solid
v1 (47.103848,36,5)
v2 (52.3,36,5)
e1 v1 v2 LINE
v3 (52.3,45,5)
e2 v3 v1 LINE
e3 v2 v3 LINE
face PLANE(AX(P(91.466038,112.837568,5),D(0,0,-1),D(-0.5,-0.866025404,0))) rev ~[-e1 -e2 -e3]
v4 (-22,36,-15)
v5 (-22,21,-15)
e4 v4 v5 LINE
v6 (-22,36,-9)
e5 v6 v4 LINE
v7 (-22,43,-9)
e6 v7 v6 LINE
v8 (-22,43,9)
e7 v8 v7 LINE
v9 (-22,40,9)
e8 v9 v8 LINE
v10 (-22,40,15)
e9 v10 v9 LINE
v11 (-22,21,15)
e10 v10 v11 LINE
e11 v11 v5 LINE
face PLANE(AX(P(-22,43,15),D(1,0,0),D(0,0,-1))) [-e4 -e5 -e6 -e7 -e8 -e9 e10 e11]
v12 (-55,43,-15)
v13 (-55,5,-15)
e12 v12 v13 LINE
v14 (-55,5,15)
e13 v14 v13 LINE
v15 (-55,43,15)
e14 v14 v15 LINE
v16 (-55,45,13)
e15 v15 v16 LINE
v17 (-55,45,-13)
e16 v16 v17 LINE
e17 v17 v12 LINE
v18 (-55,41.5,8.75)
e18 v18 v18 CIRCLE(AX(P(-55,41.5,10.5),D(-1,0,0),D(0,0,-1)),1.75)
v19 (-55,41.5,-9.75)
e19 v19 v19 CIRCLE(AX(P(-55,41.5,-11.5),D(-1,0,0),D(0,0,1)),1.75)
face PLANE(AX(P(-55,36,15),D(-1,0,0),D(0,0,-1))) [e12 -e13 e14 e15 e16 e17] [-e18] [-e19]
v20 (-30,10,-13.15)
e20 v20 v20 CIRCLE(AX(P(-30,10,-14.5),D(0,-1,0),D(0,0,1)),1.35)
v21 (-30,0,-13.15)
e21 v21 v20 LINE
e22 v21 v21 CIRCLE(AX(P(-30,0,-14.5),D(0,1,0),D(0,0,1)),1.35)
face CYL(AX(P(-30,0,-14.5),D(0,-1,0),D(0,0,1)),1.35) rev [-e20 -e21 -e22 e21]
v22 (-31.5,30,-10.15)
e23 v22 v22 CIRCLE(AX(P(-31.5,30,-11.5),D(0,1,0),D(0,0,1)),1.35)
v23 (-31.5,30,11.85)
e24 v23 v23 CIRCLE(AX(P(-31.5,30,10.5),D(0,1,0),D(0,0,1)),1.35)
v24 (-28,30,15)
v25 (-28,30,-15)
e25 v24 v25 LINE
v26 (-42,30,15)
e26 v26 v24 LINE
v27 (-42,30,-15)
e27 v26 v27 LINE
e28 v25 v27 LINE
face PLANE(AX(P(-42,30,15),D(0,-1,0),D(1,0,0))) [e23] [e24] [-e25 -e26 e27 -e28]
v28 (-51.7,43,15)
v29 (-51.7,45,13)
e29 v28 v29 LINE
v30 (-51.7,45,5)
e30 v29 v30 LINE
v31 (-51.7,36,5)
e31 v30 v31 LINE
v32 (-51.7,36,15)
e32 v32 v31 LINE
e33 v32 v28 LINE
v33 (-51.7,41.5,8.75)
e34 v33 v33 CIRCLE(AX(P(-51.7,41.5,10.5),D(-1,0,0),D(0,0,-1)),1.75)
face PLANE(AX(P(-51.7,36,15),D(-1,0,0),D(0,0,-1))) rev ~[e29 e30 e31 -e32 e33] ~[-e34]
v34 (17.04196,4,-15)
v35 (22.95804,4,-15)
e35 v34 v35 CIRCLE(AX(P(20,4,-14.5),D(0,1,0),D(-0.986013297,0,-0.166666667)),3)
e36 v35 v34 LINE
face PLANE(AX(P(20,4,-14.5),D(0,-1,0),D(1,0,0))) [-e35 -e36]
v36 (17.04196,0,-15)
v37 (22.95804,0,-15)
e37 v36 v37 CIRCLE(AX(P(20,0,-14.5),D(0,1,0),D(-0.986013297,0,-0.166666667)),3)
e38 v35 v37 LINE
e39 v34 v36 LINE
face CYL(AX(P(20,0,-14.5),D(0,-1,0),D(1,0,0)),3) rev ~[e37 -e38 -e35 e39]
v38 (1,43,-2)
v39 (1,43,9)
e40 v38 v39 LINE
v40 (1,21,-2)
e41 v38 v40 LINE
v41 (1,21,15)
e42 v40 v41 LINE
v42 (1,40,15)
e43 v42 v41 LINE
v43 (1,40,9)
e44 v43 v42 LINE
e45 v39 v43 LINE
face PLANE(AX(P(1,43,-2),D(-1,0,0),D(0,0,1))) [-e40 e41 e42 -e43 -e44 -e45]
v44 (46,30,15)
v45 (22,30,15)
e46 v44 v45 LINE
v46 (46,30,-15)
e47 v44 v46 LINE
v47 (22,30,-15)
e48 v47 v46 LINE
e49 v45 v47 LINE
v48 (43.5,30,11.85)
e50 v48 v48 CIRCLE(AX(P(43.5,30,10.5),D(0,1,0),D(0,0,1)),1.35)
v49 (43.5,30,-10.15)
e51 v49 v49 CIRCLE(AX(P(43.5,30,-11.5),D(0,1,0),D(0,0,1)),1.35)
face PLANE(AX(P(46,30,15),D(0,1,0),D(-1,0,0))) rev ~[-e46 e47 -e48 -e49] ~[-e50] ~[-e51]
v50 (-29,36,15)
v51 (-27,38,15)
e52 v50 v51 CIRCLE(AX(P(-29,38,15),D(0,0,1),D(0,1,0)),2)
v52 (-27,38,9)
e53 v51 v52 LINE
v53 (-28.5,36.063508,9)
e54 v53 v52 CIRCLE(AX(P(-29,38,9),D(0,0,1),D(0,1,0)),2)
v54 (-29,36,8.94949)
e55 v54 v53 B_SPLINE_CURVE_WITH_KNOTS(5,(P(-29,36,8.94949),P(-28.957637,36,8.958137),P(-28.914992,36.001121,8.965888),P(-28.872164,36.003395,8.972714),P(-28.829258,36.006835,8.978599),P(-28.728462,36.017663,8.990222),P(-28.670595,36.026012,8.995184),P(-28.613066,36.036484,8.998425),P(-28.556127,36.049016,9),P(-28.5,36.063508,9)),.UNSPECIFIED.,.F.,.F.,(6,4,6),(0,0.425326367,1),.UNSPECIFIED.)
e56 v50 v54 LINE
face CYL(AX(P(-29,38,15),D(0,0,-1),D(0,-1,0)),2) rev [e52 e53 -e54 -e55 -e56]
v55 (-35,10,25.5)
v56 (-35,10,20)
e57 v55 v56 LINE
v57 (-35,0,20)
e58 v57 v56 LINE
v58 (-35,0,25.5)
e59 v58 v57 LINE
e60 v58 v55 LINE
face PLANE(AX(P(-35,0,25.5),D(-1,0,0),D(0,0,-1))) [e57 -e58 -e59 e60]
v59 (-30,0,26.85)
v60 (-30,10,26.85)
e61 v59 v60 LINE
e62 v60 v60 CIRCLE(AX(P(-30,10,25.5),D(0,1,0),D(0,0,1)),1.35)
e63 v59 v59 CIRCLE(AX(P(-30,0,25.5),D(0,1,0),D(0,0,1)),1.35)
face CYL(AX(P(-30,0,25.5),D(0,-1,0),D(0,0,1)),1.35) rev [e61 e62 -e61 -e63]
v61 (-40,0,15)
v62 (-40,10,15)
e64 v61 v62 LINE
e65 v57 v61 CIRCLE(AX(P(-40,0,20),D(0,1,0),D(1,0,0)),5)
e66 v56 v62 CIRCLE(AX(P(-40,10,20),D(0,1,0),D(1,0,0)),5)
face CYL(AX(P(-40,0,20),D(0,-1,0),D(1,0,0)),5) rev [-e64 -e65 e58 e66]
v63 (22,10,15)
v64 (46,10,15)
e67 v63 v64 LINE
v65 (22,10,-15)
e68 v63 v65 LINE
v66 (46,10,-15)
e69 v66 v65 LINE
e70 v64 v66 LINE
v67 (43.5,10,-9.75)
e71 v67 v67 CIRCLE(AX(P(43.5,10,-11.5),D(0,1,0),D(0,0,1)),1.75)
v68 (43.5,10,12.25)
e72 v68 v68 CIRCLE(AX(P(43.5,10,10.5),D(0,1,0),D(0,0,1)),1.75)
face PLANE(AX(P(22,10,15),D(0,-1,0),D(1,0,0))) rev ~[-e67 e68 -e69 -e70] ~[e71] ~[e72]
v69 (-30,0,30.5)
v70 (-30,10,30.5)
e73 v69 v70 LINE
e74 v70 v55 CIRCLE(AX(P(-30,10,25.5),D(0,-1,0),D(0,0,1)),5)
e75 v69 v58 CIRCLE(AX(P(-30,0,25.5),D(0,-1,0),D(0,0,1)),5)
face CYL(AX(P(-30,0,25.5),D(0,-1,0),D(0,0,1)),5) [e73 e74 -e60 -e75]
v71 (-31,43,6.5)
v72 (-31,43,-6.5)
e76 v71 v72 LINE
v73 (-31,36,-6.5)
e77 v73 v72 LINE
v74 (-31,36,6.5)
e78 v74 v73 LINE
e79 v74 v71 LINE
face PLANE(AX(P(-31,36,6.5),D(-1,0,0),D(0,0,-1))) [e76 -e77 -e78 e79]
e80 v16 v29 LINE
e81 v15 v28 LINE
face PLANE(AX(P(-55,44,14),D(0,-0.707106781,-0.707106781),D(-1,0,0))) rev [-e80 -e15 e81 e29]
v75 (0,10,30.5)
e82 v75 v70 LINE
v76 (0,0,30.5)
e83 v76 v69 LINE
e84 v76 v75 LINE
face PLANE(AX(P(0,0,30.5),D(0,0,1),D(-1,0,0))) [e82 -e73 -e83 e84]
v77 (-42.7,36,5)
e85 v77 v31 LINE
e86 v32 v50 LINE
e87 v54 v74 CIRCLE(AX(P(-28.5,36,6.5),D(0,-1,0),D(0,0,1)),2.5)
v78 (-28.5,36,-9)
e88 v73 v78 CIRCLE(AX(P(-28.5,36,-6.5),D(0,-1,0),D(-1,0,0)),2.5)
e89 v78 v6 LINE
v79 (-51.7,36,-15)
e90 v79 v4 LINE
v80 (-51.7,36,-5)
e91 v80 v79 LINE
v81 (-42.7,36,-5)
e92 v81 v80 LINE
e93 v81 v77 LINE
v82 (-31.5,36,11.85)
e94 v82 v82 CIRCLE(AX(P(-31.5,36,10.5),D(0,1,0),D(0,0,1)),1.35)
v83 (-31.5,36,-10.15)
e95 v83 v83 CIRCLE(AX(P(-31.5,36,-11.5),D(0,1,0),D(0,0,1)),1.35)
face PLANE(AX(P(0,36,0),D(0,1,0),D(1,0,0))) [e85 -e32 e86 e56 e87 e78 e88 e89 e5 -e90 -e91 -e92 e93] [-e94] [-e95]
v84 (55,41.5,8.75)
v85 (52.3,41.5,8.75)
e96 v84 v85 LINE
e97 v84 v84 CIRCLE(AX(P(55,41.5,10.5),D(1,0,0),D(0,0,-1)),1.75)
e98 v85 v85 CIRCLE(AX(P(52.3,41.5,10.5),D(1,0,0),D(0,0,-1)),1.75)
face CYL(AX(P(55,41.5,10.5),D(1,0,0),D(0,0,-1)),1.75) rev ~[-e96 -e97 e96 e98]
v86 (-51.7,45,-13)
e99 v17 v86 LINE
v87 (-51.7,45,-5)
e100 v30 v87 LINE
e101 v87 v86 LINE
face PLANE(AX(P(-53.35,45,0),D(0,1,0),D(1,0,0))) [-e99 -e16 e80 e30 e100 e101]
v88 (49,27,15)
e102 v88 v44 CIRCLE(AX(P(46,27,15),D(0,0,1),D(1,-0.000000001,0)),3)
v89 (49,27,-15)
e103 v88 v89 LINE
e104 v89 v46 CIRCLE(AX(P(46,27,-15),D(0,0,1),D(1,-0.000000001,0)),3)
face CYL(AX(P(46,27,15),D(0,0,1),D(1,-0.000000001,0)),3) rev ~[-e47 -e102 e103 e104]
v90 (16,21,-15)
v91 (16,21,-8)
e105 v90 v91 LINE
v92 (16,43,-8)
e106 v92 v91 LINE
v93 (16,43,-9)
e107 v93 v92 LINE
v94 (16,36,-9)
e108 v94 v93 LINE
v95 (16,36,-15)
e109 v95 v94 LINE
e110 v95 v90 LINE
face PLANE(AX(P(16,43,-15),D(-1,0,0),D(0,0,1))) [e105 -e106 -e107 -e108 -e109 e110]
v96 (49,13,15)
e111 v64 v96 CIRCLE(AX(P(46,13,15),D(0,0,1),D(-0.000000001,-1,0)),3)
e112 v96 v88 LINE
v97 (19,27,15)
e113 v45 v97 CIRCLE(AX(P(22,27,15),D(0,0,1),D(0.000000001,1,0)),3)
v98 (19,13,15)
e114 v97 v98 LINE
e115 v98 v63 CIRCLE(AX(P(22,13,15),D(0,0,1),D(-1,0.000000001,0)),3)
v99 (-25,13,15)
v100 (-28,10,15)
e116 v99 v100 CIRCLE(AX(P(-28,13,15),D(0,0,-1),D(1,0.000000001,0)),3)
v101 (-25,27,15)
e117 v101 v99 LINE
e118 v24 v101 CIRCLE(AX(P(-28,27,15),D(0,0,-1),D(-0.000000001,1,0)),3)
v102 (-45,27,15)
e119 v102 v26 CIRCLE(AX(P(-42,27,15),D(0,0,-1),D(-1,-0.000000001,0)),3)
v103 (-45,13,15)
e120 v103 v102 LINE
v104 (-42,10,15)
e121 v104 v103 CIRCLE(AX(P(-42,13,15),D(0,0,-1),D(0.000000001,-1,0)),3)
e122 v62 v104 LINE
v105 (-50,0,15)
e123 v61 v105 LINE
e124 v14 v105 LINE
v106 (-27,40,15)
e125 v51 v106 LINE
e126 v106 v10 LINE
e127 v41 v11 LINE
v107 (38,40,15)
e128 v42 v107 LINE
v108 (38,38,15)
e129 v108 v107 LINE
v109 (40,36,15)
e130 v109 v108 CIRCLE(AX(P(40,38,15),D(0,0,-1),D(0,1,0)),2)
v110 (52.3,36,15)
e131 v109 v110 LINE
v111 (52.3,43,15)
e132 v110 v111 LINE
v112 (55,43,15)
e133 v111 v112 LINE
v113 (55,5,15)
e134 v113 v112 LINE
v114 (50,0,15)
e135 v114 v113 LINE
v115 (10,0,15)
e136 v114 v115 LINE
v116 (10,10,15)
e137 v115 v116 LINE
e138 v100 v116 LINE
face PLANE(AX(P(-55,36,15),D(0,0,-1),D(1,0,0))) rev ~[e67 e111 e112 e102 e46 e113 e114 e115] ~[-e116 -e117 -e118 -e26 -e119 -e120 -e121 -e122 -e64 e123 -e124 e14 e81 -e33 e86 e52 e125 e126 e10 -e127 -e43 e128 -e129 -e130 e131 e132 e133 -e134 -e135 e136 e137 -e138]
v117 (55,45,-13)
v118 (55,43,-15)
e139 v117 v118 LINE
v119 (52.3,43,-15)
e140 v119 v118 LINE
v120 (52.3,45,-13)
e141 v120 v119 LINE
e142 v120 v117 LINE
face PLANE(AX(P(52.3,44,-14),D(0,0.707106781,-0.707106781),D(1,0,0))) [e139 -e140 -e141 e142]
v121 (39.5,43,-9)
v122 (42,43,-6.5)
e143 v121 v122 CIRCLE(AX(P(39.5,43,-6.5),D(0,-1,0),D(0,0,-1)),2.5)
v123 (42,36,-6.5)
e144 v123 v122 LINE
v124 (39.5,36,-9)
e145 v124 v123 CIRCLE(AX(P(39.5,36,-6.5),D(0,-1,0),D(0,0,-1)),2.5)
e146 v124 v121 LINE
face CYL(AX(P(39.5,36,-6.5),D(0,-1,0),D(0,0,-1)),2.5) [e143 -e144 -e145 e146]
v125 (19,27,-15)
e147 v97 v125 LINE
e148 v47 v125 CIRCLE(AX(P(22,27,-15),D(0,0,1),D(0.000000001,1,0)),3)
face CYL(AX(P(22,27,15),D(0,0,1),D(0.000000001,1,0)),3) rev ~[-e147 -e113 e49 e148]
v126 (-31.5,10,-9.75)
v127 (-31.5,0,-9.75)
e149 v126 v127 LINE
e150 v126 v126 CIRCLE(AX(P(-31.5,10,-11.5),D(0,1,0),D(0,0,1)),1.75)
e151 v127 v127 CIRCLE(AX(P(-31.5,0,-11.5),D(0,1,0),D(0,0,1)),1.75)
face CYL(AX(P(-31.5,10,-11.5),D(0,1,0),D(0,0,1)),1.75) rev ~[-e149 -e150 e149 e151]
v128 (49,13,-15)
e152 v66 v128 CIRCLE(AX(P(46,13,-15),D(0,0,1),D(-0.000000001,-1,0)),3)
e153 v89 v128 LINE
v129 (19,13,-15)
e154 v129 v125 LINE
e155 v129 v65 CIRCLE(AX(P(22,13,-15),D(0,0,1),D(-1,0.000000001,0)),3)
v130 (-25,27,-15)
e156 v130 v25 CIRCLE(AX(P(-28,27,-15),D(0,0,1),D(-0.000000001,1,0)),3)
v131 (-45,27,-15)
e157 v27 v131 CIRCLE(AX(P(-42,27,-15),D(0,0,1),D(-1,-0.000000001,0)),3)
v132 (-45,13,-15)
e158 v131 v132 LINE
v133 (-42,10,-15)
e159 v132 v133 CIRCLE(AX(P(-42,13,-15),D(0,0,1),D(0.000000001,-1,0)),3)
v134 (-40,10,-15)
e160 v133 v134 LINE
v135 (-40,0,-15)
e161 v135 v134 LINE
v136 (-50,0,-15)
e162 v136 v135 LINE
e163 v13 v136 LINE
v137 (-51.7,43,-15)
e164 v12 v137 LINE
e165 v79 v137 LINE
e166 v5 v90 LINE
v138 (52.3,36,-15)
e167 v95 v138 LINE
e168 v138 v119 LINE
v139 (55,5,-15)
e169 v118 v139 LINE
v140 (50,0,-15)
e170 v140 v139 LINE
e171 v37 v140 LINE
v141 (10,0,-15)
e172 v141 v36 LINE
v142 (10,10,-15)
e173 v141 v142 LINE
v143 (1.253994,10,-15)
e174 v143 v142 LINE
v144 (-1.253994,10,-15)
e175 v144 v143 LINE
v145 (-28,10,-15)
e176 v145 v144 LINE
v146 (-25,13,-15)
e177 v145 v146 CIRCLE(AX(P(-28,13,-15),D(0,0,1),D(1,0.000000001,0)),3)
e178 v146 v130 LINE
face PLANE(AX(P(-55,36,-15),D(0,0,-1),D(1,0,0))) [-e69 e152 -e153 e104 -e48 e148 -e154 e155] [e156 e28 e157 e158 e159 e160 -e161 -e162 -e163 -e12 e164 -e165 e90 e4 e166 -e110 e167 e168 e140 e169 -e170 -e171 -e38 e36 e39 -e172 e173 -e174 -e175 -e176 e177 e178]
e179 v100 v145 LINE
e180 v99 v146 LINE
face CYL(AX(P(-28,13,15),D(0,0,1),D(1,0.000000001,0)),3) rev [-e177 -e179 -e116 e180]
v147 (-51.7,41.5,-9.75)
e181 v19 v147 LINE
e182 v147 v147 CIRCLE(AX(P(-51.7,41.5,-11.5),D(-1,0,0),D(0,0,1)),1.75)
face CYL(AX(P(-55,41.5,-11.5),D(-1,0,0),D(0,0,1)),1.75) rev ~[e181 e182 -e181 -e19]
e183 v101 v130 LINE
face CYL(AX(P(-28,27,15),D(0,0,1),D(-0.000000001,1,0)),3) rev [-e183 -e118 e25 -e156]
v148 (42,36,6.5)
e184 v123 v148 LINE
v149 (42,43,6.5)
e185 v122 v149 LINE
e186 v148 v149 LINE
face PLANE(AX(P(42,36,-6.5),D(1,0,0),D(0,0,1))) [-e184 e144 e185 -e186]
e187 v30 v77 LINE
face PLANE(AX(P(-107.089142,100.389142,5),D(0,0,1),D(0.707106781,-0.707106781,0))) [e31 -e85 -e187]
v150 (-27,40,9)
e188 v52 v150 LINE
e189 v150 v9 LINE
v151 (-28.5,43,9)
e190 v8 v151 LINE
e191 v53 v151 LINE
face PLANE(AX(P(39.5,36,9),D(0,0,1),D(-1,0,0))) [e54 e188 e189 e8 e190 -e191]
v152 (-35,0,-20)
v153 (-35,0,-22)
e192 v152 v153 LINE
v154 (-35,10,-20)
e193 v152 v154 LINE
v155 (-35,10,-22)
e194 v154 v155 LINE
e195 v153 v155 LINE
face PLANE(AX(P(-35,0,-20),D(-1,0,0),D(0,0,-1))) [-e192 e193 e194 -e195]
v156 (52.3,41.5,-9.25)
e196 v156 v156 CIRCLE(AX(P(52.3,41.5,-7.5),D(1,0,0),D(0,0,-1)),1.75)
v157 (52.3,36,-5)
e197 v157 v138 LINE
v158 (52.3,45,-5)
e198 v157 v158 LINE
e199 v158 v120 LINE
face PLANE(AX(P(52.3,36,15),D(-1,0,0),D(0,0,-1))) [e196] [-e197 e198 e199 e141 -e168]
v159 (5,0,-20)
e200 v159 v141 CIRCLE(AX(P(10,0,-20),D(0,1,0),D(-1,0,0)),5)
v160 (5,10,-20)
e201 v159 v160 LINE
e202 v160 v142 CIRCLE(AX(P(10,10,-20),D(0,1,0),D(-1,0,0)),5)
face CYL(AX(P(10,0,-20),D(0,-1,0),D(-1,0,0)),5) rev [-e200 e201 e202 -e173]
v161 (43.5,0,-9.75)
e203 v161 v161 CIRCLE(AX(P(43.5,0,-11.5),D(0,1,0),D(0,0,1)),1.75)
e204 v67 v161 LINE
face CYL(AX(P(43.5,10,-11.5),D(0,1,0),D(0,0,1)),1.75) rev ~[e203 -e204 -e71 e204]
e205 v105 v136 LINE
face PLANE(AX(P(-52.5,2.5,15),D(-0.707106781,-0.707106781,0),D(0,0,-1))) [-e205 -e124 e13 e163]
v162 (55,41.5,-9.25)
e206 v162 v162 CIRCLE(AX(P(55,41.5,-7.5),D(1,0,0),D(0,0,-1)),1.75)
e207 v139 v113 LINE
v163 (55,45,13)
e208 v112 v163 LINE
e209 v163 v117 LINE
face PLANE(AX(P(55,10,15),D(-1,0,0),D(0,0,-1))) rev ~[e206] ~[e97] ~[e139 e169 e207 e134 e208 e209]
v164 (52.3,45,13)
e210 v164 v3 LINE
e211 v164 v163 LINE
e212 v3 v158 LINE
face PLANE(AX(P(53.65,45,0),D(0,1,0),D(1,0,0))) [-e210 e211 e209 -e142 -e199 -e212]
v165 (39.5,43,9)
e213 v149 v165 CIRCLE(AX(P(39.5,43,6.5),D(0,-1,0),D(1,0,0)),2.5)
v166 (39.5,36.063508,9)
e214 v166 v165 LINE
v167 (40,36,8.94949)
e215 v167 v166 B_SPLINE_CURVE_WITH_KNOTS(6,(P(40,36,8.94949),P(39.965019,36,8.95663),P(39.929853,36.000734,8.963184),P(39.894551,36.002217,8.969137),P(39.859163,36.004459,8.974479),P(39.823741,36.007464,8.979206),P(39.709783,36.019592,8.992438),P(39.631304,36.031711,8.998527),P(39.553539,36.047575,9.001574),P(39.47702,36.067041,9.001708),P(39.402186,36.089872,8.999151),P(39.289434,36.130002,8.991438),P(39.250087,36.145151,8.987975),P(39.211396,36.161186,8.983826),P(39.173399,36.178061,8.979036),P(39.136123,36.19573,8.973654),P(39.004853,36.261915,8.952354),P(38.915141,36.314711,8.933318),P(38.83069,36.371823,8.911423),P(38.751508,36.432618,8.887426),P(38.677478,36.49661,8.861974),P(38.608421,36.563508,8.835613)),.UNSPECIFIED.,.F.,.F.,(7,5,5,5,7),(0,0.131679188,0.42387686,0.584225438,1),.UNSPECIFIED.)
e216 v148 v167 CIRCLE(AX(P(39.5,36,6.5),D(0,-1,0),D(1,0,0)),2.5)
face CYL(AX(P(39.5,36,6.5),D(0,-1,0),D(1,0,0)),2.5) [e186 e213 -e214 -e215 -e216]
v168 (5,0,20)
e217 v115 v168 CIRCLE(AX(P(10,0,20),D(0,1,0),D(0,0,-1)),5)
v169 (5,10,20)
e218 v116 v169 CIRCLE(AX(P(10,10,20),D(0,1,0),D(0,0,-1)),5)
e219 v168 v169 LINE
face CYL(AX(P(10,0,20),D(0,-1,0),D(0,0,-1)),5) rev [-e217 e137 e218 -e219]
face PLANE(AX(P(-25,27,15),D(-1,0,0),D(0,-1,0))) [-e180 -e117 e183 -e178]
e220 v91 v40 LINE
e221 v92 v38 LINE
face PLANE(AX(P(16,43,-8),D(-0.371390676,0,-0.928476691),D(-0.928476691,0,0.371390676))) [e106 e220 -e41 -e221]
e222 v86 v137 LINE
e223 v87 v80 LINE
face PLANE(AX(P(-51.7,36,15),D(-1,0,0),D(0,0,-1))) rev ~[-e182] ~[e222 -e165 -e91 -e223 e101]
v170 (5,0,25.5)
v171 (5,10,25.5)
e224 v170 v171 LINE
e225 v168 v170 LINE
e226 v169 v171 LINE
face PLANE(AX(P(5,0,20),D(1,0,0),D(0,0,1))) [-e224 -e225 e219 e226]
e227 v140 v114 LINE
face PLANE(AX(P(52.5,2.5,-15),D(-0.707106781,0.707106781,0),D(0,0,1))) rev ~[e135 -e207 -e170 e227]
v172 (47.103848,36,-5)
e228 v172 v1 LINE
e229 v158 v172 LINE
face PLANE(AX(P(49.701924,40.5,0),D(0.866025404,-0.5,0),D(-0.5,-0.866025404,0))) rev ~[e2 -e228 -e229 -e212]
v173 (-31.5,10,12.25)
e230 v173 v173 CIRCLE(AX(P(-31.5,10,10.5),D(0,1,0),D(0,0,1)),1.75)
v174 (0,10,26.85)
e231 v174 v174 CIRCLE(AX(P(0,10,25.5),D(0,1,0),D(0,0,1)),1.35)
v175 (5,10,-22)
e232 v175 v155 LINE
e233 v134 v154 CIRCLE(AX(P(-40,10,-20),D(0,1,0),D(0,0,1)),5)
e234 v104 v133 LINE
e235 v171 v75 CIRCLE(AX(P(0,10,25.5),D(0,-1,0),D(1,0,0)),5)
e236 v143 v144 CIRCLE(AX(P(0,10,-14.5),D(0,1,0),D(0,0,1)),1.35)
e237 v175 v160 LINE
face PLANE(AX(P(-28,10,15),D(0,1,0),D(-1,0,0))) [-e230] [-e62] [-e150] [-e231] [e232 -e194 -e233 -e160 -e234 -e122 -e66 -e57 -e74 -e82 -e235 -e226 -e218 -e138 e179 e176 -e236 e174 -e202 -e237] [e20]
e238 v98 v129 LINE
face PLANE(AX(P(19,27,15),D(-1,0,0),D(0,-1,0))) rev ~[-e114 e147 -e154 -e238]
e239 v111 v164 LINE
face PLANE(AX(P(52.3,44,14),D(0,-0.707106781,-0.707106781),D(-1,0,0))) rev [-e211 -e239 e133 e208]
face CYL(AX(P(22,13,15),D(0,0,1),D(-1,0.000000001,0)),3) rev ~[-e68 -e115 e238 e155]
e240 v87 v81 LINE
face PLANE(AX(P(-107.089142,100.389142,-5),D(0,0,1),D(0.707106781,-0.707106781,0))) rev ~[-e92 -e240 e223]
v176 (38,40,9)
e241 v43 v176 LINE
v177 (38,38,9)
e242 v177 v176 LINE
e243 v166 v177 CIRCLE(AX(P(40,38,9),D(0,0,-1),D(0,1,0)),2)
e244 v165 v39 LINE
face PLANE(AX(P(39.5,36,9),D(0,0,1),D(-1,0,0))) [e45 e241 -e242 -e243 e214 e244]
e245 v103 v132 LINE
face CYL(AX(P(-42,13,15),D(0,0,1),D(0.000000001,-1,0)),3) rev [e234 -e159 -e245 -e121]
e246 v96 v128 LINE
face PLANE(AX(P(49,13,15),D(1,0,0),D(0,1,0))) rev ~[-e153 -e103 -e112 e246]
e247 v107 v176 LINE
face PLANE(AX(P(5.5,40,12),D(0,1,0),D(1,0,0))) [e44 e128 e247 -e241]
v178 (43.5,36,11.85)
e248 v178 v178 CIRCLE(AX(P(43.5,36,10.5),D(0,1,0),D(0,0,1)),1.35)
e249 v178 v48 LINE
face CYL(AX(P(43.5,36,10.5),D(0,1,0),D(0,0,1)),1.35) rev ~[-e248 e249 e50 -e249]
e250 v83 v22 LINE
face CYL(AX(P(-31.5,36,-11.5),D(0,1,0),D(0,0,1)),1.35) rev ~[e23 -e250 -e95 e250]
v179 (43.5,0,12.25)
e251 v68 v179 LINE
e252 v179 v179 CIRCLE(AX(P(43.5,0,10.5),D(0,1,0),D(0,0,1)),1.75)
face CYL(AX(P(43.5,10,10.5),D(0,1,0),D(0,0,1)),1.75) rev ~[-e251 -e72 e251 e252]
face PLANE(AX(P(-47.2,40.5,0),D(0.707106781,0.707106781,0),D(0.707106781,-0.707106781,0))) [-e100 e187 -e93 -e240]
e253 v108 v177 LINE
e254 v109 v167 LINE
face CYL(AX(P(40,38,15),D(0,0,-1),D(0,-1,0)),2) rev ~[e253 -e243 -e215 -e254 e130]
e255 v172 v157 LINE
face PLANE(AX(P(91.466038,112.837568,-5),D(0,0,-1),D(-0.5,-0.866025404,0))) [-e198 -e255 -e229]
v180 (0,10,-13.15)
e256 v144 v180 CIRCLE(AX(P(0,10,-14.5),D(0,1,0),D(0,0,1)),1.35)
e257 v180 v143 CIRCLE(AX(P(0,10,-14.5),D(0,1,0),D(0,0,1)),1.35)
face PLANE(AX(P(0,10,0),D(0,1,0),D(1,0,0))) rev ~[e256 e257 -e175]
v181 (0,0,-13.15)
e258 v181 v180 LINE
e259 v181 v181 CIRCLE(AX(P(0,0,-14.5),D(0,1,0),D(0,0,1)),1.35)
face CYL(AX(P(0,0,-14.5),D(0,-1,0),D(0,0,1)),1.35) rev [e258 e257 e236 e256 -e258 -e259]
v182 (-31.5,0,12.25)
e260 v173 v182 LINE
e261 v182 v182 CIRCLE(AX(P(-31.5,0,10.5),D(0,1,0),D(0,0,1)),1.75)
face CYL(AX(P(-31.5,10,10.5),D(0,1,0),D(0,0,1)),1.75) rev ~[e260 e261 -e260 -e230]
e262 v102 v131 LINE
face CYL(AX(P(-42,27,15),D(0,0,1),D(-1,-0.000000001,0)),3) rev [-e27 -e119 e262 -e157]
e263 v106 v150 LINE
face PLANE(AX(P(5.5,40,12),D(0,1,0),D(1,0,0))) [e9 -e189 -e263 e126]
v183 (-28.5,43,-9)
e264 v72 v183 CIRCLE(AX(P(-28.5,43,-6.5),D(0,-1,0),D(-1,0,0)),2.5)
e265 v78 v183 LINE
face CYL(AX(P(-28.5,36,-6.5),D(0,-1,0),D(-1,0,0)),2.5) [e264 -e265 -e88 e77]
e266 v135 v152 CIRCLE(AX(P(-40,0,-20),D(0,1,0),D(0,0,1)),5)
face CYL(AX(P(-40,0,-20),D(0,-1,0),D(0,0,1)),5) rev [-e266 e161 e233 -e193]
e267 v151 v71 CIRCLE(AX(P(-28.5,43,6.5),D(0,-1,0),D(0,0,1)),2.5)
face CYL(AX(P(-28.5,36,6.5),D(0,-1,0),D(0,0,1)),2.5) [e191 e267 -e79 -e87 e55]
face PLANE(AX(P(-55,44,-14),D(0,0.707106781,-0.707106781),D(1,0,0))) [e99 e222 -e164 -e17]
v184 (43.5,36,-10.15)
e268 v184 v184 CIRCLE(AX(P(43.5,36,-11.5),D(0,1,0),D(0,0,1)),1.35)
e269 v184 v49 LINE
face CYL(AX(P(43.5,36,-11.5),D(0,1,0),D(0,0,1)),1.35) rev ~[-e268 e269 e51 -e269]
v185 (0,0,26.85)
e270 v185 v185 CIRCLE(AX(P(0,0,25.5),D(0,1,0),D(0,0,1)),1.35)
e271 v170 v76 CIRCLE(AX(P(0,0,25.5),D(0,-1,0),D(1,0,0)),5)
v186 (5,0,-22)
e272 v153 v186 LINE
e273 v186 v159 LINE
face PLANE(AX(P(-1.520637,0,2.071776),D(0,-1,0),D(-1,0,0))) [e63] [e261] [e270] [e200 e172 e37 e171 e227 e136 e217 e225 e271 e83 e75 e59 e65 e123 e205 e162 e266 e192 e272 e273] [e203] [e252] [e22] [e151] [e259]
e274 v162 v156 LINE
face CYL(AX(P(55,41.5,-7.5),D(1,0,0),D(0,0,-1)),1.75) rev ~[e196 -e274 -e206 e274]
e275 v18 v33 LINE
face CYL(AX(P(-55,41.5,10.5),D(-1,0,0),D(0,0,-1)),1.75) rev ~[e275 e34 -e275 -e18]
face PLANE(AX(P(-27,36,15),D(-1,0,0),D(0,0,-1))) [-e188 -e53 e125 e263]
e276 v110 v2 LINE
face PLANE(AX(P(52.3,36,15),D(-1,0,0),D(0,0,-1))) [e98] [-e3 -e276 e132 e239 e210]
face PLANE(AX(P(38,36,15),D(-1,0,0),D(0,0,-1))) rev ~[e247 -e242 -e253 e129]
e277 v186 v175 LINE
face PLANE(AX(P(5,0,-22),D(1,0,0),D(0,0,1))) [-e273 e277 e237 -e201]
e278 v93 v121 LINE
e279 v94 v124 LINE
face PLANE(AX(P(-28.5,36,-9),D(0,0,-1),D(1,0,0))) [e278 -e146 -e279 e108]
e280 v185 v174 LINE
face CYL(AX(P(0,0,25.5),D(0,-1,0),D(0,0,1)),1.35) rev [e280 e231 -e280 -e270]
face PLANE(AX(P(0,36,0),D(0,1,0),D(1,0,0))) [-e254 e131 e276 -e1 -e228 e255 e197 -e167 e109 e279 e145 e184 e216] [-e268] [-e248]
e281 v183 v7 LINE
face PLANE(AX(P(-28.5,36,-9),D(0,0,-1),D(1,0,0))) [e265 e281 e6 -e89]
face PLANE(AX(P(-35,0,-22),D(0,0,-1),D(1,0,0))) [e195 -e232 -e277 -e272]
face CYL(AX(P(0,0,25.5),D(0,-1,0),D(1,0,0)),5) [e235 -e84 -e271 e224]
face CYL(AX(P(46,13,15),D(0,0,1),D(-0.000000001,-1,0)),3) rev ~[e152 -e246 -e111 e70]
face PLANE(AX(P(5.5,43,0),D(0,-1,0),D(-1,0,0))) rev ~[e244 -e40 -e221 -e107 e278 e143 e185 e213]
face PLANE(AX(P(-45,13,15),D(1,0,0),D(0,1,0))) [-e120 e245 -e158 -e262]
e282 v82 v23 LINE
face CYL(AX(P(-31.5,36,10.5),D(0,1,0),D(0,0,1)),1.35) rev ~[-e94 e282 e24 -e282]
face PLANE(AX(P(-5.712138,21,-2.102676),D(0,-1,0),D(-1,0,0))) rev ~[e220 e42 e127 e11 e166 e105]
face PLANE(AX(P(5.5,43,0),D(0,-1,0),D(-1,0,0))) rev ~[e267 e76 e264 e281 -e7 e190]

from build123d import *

# Parameters (mm, degrees)
SKETCH_1_R          = 1.35
EXTRUDE_1_DEPTH     = 10
SKETCH_2_W          = 110
SKETCH_2_H          = 30
EXTRUDE_2_DEPTH     = 26
CUT_EXTRUDE_1_DEPTH = 76.432088663
EXTRUDE_3_DEPTH     = 7
SKETCH_5_R          = 1.35
CUT_EXTRUDE_2_DEPTH = 7
SKETCH_6_W          = 65
SKETCH_6_H          = 6
EXTRUDE_4_DEPTH     = 4
SKETCH_7_W          = 3.3
SKETCH_7_H          = 30
SKETCH_7_W_2        = 2.7
EXTRUDE_5_DEPTH     = 9
RIB_1_REACH         = 79.332
SKETCH_8_WALL_W     = 169.39207434
SKETCH_8_WALL_H     = 10
RIB_2_REACH         = 79.332
SKETCH_9_WALL_W     = 167.056457124
SKETCH_9_WALL_H     = 10
CUT_EXTRUDE_3_REACH = 124.7
SKETCH_10_R         = 1.75
CUT_EXTRUDE_4_REACH = 124.7
SKETCH_11_R         = 1.75
FILLET_1_R          = 2
CUT_EXTRUDE_5_DEPTH = 22
CHAMFER_1_SIZE      = 5
CHAMFER_2_SIZE      = 2
SKETCH_13_R         = 1.75
CUT_EXTRUDE_6_DEPTH = 72.973953622
CHAMFER_3_SIZE      = 5
SKETCH_14_R         = 3
CUT_EXTRUDE_7_DEPTH = 4


with BuildPart() as part:
    # 草图1 → 凸台-拉伸1 (new body)
    with BuildSketch(Plane(origin=(0, 0, 0), x_dir=(1, 0, 0), z_dir=(0, 1, 0))):
        with BuildLine():
            Line((10, 15), (55, 15))
            Line((55, 15), (55, -15))
            Line((55, -15), (10, -15))
            ThreePointArc((10, -15), (6.464466094, -16.464466094), (5, -20))
            Line((5, -20), (5, -25.5))
            ThreePointArc((5, -25.5), (3.535533906, -29.035533906), (0, -30.5))
            Line((0, -30.5), (-30, -30.5))
            ThreePointArc((-30, -30.5), (-33.535533906, -29.035533906), (-35, -25.5))
            Line((-35, -25.5), (-35, -20))
            ThreePointArc((-35, -20), (-36.464466094, -16.464466094), (-40, -15))
            Line((-40, -15), (-55, -15))
            Line((-55, -15), (-55, 15))
            Line((-55, 15), (-40, 15))
            ThreePointArc((-40, 15), (-36.464466094, 16.464466094), (-35, 20))
            Line((-35, 20), (-35, 22))
            Line((-35, 22), (5, 22))
            Line((5, 22), (5, 20))
            ThreePointArc((5, 20), (6.464466094, 16.464466094), (10, 15))
        make_face()
        with Locations(Location((-30, 14.5, 0), (0, 0, 270))):
            Circle(SKETCH_1_R, mode=Mode.SUBTRACT)
        with Locations(Location((0, 14.5, 0), (0, 0, 270))):
            Circle(SKETCH_1_R, mode=Mode.SUBTRACT)
        with Locations(Location((0, -25.5, 0), (0, 0, 270))):
            Circle(SKETCH_1_R, mode=Mode.SUBTRACT)
        with Locations(Location((-30, -25.5, 0), (0, 0, 270))):
            Circle(SKETCH_1_R, mode=Mode.SUBTRACT)
    extrude(amount=EXTRUDE_1_DEPTH)

    # 草图2 → 凸台-拉伸2 (add)
    with BuildSketch(Plane(origin=(0, 10, 0), x_dir=(1, 0, 0), z_dir=(0, 1, 0))):
        Rectangle(SKETCH_2_W, SKETCH_2_H)
    extrude(amount=EXTRUDE_2_DEPTH)

    # 草图3 → 切除-拉伸1 (cut, through all)
    with BuildSketch(Plane.XY.offset(15)):
        with BuildLine():
            Line((-42, 30), (-28, 30))
            ThreePointArc((-28, 30), (-25.878679656, 29.121320344), (-25, 27))
            Line((-25, 27), (-25, 13))
            ThreePointArc((-25, 13), (-25.878679656, 10.878679656), (-28, 10))
            Line((-28, 10), (-42, 10))
            ThreePointArc((-42, 10), (-44.121320344, 10.878679656), (-45, 13))
            Line((-45, 13), (-45, 27))
            ThreePointArc((-45, 27), (-44.121320344, 29.121320344), (-42, 30))
        make_face()
        with BuildLine():
            Line((22, 10), (46, 10))
            ThreePointArc((46, 10), (48.121320344, 10.878679656), (49, 13))
            Line((49, 13), (49, 27))
            ThreePointArc((49, 27), (48.121320344, 29.121320344), (46, 30))
            Line((46, 30), (22, 30))
            ThreePointArc((22, 30), (19.878679656, 29.121320344), (19, 27))
            Line((19, 27), (19, 13))
            ThreePointArc((19, 13), (19.878679656, 10.878679656), (22, 10))
        make_face()
    extrude(amount=-CUT_EXTRUDE_1_DEPTH, mode=Mode.SUBTRACT)

    # 草图4 → 凸台-拉伸3 (add)
    with BuildSketch(Plane(origin=(0, 36, 0), x_dir=(1, 0, 0), z_dir=(0, 1, 0))):
        with BuildLine():
            Line((-28.5, 9), (39.5, 9))
            ThreePointArc((39.5, 9), (41.267766953, 8.267766953), (42, 6.5))
            Line((42, 6.5), (42, -6.5))
            ThreePointArc((42, -6.5), (41.267766953, -8.267766953), (39.5, -9))
            Line((39.5, -9), (-28.5, -9))
            ThreePointArc((-28.5, -9), (-30.267766953, -8.267766953), (-31, -6.5))
            Line((-31, -6.5), (-31, 6.5))
            ThreePointArc((-31, 6.5), (-30.267766953, 8.267766953), (-28.5, 9))
        make_face()
    extrude(amount=EXTRUDE_3_DEPTH)

    # 草图5 → 切除-拉伸2 (cut)
    with BuildSketch(Plane(origin=(0, 36, 0), x_dir=(1, 0, 0), z_dir=(0, 1, 0))):
        with Locations(Location((43.5, 11.5, 0), (0, 0, 270))):
            Circle(SKETCH_5_R)
        with Locations(Location((43.5, -10.5, 0), (0, 0, 270))):
            Circle(SKETCH_5_R)
        with Locations(Location((-31.5, -10.5, 0), (0, 0, 270))):
            Circle(SKETCH_5_R)
        with Locations(Location((-31.5, 11.5, 0), (0, 0, 270))):
            Circle(SKETCH_5_R)
    extrude(amount=-CUT_EXTRUDE_2_DEPTH, mode=Mode.SUBTRACT)

    # 草图6 → 凸台-拉伸4 (add)
    with BuildSketch(Plane(origin=(0, 36, 0), x_dir=(1, 0, 0), z_dir=(0, 1, 0))):
        with Locations((5.5, -12)):
            Rectangle(SKETCH_6_W, SKETCH_6_H)
    extrude(amount=EXTRUDE_4_DEPTH)

    # 草图7 → 凸台-拉伸5 (add)
    with BuildSketch(Plane(origin=(0, 36, 0), x_dir=(1, 0, 0), z_dir=(0, 1, 0))):
        with Locations((-53.35, 0)):
            Rectangle(SKETCH_7_W, SKETCH_7_H)
        with Locations((53.65, 0)):
            Rectangle(SKETCH_7_W_2, SKETCH_7_H)
    extrude(amount=EXTRUDE_5_DEPTH)

    # 草图8 wall → 筋1 (add, up to next)
    with BuildSketch(Plane(origin=(-47.2, 40.5, 0), x_dir=(0.707106781187, -0.707106781187, 0), z_dir=(0.707106781187, 0.707106781187, 0)), mode=Mode.PRIVATE) as rib_1_sk1:
        Rectangle(SKETCH_8_WALL_W, SKETCH_8_WALL_H)
    rib_1_tool1 = extrude(rib_1_sk1.sketch, amount=-RIB_1_REACH, mode=Mode.PRIVATE) - part.part
    add(rib_1_tool1.solids().sort_by_distance((-47.2, 40.5, 0))[0])

    # 草图9 wall → 筋2 (add, up to next)
    with BuildSketch(Plane(origin=(49.701923788, 40.5, 0), x_dir=(-0.500000000021, -0.866025403772, 0), z_dir=(0.866025403772, -0.500000000021, 0)), mode=Mode.PRIVATE) as rib_2_sk1:
        Rectangle(SKETCH_9_WALL_W, SKETCH_9_WALL_H)
    rib_2_tool1 = extrude(rib_2_sk1.sketch, amount=RIB_2_REACH, mode=Mode.PRIVATE) - part.part
    add(rib_2_tool1.solids().sort_by_distance((49.701923788, 40.5, 0))[0])

    # 草图10 → 切除-拉伸3 (cut, up to next)
    with BuildSketch(Plane(origin=(55, 0, 0), x_dir=(0, 0, -1), z_dir=(1, 0, 0)), mode=Mode.PRIVATE) as cut_extrude_3_sk1:
        with Locations((-10.5, 41.5)):
            Circle(SKETCH_10_R)
    cut_extrude_3_tool1 = extrude(cut_extrude_3_sk1.sketch, amount=-CUT_EXTRUDE_3_REACH, mode=Mode.PRIVATE) & part.part
    # 草图10 → 切除-拉伸3 (cut, up to next)
    with BuildSketch(Plane(origin=(55, 0, 0), x_dir=(0, 0, -1), z_dir=(1, 0, 0)), mode=Mode.PRIVATE) as cut_extrude_3_sk2:
        with Locations((7.5, 41.5)):
            Circle(SKETCH_10_R)
    cut_extrude_3_tool2 = extrude(cut_extrude_3_sk2.sketch, amount=-CUT_EXTRUDE_3_REACH, mode=Mode.PRIVATE) & part.part
    add(cut_extrude_3_tool1.solids().sort_by_distance((55, 41.5, 10.5))[0], mode=Mode.SUBTRACT)
    add(cut_extrude_3_tool2.solids().sort_by_distance((55, 41.5, -7.5))[0], mode=Mode.SUBTRACT)

    # 草图11 → 切除-拉伸4 (cut, up to next)
    with BuildSketch(Plane.ZY.offset(55), mode=Mode.PRIVATE) as cut_extrude_4_sk1:
        with Locations(Location((10.5, 41.5, 0), (0, 0, 180))):
            Circle(SKETCH_11_R)
    cut_extrude_4_tool1 = extrude(cut_extrude_4_sk1.sketch, amount=-CUT_EXTRUDE_4_REACH, mode=Mode.PRIVATE) & part.part
    # 草图11 → 切除-拉伸4 (cut, up to next)
    with BuildSketch(Plane.ZY.offset(55), mode=Mode.PRIVATE) as cut_extrude_4_sk2:
        with Locations((-11.5, 41.5)):
            Circle(SKETCH_11_R)
    cut_extrude_4_tool2 = extrude(cut_extrude_4_sk2.sketch, amount=-CUT_EXTRUDE_4_REACH, mode=Mode.PRIVATE) & part.part
    add(cut_extrude_4_tool1.solids().sort_by_distance((-55, 41.5, 10.5))[0], mode=Mode.SUBTRACT)
    add(cut_extrude_4_tool2.solids().sort_by_distance((-55, 41.5, -11.5))[0], mode=Mode.SUBTRACT)

    # 圆角1
    fillet_1_edges = [part.edges().sort_by_distance(p)[0] for p in [
        (-27, 36, 12),
        (38, 36, 12),
    ]]
    fillet(fillet_1_edges, radius=FILLET_1_R)

    # 草图12 → 切除-拉伸5 (cut)
    with BuildSketch(Plane(origin=(0, 43, 0), x_dir=(1, 0, 0), z_dir=(0, 1, 0))):
        Polygon((-22, -15), (-22, 15), (16, 15), (16, 8), (1, 2), (1, -15), align=None)
    extrude(amount=-CUT_EXTRUDE_5_DEPTH, mode=Mode.SUBTRACT)

    # 倒角1
    chamfer_1_edges = [part.edges().sort_by_distance(p)[0] for p in [
        (-55, 0, 0),
    ]]
    chamfer(chamfer_1_edges, length=CHAMFER_1_SIZE)

    # 倒角2
    chamfer_2_edges = [part.edges().sort_by_distance(p)[0] for p in [
        (-53.35, 45, 15),
        (-53.35, 45, -15),
        (53.65, 45, -15),
        (53.65, 45, 15),
    ]]
    chamfer(chamfer_2_edges, length=CHAMFER_2_SIZE)

    # 草图13 → 切除-拉伸6 (cut, through all)
    with BuildSketch(Plane(origin=(0, 10, 0), x_dir=(1, 0, 0), z_dir=(0, 1, 0))):
        with Locations(Location((43.5, 11.5, 0), (0, 0, 270))):
            Circle(SKETCH_13_R)
        with Locations(Location((43.5, -10.5, 0), (0, 0, 270))):
            Circle(SKETCH_13_R)
        with Locations(Location((-31.5, 11.5, 0), (0, 0, 270))):
            Circle(SKETCH_13_R)
        with Locations(Location((-31.5, -10.5, 0), (0, 0, 270))):
            Circle(SKETCH_13_R)
    extrude(amount=-CUT_EXTRUDE_6_DEPTH, mode=Mode.SUBTRACT)

    # 倒角3
    chamfer_3_edges = [part.edges().sort_by_distance(p)[0] for p in [
        (55, 0, 0),
    ]]
    chamfer(chamfer_3_edges, length=CHAMFER_3_SIZE)

    # 草图14 → 切除-拉伸7 (cut)
    with BuildSketch(Plane.XZ):
        with Locations((20, -14.5)):
            Circle(SKETCH_14_R)
    extrude(amount=-CUT_EXTRUDE_7_DEPTH, mode=Mode.SUBTRACT)


solid = part.part
